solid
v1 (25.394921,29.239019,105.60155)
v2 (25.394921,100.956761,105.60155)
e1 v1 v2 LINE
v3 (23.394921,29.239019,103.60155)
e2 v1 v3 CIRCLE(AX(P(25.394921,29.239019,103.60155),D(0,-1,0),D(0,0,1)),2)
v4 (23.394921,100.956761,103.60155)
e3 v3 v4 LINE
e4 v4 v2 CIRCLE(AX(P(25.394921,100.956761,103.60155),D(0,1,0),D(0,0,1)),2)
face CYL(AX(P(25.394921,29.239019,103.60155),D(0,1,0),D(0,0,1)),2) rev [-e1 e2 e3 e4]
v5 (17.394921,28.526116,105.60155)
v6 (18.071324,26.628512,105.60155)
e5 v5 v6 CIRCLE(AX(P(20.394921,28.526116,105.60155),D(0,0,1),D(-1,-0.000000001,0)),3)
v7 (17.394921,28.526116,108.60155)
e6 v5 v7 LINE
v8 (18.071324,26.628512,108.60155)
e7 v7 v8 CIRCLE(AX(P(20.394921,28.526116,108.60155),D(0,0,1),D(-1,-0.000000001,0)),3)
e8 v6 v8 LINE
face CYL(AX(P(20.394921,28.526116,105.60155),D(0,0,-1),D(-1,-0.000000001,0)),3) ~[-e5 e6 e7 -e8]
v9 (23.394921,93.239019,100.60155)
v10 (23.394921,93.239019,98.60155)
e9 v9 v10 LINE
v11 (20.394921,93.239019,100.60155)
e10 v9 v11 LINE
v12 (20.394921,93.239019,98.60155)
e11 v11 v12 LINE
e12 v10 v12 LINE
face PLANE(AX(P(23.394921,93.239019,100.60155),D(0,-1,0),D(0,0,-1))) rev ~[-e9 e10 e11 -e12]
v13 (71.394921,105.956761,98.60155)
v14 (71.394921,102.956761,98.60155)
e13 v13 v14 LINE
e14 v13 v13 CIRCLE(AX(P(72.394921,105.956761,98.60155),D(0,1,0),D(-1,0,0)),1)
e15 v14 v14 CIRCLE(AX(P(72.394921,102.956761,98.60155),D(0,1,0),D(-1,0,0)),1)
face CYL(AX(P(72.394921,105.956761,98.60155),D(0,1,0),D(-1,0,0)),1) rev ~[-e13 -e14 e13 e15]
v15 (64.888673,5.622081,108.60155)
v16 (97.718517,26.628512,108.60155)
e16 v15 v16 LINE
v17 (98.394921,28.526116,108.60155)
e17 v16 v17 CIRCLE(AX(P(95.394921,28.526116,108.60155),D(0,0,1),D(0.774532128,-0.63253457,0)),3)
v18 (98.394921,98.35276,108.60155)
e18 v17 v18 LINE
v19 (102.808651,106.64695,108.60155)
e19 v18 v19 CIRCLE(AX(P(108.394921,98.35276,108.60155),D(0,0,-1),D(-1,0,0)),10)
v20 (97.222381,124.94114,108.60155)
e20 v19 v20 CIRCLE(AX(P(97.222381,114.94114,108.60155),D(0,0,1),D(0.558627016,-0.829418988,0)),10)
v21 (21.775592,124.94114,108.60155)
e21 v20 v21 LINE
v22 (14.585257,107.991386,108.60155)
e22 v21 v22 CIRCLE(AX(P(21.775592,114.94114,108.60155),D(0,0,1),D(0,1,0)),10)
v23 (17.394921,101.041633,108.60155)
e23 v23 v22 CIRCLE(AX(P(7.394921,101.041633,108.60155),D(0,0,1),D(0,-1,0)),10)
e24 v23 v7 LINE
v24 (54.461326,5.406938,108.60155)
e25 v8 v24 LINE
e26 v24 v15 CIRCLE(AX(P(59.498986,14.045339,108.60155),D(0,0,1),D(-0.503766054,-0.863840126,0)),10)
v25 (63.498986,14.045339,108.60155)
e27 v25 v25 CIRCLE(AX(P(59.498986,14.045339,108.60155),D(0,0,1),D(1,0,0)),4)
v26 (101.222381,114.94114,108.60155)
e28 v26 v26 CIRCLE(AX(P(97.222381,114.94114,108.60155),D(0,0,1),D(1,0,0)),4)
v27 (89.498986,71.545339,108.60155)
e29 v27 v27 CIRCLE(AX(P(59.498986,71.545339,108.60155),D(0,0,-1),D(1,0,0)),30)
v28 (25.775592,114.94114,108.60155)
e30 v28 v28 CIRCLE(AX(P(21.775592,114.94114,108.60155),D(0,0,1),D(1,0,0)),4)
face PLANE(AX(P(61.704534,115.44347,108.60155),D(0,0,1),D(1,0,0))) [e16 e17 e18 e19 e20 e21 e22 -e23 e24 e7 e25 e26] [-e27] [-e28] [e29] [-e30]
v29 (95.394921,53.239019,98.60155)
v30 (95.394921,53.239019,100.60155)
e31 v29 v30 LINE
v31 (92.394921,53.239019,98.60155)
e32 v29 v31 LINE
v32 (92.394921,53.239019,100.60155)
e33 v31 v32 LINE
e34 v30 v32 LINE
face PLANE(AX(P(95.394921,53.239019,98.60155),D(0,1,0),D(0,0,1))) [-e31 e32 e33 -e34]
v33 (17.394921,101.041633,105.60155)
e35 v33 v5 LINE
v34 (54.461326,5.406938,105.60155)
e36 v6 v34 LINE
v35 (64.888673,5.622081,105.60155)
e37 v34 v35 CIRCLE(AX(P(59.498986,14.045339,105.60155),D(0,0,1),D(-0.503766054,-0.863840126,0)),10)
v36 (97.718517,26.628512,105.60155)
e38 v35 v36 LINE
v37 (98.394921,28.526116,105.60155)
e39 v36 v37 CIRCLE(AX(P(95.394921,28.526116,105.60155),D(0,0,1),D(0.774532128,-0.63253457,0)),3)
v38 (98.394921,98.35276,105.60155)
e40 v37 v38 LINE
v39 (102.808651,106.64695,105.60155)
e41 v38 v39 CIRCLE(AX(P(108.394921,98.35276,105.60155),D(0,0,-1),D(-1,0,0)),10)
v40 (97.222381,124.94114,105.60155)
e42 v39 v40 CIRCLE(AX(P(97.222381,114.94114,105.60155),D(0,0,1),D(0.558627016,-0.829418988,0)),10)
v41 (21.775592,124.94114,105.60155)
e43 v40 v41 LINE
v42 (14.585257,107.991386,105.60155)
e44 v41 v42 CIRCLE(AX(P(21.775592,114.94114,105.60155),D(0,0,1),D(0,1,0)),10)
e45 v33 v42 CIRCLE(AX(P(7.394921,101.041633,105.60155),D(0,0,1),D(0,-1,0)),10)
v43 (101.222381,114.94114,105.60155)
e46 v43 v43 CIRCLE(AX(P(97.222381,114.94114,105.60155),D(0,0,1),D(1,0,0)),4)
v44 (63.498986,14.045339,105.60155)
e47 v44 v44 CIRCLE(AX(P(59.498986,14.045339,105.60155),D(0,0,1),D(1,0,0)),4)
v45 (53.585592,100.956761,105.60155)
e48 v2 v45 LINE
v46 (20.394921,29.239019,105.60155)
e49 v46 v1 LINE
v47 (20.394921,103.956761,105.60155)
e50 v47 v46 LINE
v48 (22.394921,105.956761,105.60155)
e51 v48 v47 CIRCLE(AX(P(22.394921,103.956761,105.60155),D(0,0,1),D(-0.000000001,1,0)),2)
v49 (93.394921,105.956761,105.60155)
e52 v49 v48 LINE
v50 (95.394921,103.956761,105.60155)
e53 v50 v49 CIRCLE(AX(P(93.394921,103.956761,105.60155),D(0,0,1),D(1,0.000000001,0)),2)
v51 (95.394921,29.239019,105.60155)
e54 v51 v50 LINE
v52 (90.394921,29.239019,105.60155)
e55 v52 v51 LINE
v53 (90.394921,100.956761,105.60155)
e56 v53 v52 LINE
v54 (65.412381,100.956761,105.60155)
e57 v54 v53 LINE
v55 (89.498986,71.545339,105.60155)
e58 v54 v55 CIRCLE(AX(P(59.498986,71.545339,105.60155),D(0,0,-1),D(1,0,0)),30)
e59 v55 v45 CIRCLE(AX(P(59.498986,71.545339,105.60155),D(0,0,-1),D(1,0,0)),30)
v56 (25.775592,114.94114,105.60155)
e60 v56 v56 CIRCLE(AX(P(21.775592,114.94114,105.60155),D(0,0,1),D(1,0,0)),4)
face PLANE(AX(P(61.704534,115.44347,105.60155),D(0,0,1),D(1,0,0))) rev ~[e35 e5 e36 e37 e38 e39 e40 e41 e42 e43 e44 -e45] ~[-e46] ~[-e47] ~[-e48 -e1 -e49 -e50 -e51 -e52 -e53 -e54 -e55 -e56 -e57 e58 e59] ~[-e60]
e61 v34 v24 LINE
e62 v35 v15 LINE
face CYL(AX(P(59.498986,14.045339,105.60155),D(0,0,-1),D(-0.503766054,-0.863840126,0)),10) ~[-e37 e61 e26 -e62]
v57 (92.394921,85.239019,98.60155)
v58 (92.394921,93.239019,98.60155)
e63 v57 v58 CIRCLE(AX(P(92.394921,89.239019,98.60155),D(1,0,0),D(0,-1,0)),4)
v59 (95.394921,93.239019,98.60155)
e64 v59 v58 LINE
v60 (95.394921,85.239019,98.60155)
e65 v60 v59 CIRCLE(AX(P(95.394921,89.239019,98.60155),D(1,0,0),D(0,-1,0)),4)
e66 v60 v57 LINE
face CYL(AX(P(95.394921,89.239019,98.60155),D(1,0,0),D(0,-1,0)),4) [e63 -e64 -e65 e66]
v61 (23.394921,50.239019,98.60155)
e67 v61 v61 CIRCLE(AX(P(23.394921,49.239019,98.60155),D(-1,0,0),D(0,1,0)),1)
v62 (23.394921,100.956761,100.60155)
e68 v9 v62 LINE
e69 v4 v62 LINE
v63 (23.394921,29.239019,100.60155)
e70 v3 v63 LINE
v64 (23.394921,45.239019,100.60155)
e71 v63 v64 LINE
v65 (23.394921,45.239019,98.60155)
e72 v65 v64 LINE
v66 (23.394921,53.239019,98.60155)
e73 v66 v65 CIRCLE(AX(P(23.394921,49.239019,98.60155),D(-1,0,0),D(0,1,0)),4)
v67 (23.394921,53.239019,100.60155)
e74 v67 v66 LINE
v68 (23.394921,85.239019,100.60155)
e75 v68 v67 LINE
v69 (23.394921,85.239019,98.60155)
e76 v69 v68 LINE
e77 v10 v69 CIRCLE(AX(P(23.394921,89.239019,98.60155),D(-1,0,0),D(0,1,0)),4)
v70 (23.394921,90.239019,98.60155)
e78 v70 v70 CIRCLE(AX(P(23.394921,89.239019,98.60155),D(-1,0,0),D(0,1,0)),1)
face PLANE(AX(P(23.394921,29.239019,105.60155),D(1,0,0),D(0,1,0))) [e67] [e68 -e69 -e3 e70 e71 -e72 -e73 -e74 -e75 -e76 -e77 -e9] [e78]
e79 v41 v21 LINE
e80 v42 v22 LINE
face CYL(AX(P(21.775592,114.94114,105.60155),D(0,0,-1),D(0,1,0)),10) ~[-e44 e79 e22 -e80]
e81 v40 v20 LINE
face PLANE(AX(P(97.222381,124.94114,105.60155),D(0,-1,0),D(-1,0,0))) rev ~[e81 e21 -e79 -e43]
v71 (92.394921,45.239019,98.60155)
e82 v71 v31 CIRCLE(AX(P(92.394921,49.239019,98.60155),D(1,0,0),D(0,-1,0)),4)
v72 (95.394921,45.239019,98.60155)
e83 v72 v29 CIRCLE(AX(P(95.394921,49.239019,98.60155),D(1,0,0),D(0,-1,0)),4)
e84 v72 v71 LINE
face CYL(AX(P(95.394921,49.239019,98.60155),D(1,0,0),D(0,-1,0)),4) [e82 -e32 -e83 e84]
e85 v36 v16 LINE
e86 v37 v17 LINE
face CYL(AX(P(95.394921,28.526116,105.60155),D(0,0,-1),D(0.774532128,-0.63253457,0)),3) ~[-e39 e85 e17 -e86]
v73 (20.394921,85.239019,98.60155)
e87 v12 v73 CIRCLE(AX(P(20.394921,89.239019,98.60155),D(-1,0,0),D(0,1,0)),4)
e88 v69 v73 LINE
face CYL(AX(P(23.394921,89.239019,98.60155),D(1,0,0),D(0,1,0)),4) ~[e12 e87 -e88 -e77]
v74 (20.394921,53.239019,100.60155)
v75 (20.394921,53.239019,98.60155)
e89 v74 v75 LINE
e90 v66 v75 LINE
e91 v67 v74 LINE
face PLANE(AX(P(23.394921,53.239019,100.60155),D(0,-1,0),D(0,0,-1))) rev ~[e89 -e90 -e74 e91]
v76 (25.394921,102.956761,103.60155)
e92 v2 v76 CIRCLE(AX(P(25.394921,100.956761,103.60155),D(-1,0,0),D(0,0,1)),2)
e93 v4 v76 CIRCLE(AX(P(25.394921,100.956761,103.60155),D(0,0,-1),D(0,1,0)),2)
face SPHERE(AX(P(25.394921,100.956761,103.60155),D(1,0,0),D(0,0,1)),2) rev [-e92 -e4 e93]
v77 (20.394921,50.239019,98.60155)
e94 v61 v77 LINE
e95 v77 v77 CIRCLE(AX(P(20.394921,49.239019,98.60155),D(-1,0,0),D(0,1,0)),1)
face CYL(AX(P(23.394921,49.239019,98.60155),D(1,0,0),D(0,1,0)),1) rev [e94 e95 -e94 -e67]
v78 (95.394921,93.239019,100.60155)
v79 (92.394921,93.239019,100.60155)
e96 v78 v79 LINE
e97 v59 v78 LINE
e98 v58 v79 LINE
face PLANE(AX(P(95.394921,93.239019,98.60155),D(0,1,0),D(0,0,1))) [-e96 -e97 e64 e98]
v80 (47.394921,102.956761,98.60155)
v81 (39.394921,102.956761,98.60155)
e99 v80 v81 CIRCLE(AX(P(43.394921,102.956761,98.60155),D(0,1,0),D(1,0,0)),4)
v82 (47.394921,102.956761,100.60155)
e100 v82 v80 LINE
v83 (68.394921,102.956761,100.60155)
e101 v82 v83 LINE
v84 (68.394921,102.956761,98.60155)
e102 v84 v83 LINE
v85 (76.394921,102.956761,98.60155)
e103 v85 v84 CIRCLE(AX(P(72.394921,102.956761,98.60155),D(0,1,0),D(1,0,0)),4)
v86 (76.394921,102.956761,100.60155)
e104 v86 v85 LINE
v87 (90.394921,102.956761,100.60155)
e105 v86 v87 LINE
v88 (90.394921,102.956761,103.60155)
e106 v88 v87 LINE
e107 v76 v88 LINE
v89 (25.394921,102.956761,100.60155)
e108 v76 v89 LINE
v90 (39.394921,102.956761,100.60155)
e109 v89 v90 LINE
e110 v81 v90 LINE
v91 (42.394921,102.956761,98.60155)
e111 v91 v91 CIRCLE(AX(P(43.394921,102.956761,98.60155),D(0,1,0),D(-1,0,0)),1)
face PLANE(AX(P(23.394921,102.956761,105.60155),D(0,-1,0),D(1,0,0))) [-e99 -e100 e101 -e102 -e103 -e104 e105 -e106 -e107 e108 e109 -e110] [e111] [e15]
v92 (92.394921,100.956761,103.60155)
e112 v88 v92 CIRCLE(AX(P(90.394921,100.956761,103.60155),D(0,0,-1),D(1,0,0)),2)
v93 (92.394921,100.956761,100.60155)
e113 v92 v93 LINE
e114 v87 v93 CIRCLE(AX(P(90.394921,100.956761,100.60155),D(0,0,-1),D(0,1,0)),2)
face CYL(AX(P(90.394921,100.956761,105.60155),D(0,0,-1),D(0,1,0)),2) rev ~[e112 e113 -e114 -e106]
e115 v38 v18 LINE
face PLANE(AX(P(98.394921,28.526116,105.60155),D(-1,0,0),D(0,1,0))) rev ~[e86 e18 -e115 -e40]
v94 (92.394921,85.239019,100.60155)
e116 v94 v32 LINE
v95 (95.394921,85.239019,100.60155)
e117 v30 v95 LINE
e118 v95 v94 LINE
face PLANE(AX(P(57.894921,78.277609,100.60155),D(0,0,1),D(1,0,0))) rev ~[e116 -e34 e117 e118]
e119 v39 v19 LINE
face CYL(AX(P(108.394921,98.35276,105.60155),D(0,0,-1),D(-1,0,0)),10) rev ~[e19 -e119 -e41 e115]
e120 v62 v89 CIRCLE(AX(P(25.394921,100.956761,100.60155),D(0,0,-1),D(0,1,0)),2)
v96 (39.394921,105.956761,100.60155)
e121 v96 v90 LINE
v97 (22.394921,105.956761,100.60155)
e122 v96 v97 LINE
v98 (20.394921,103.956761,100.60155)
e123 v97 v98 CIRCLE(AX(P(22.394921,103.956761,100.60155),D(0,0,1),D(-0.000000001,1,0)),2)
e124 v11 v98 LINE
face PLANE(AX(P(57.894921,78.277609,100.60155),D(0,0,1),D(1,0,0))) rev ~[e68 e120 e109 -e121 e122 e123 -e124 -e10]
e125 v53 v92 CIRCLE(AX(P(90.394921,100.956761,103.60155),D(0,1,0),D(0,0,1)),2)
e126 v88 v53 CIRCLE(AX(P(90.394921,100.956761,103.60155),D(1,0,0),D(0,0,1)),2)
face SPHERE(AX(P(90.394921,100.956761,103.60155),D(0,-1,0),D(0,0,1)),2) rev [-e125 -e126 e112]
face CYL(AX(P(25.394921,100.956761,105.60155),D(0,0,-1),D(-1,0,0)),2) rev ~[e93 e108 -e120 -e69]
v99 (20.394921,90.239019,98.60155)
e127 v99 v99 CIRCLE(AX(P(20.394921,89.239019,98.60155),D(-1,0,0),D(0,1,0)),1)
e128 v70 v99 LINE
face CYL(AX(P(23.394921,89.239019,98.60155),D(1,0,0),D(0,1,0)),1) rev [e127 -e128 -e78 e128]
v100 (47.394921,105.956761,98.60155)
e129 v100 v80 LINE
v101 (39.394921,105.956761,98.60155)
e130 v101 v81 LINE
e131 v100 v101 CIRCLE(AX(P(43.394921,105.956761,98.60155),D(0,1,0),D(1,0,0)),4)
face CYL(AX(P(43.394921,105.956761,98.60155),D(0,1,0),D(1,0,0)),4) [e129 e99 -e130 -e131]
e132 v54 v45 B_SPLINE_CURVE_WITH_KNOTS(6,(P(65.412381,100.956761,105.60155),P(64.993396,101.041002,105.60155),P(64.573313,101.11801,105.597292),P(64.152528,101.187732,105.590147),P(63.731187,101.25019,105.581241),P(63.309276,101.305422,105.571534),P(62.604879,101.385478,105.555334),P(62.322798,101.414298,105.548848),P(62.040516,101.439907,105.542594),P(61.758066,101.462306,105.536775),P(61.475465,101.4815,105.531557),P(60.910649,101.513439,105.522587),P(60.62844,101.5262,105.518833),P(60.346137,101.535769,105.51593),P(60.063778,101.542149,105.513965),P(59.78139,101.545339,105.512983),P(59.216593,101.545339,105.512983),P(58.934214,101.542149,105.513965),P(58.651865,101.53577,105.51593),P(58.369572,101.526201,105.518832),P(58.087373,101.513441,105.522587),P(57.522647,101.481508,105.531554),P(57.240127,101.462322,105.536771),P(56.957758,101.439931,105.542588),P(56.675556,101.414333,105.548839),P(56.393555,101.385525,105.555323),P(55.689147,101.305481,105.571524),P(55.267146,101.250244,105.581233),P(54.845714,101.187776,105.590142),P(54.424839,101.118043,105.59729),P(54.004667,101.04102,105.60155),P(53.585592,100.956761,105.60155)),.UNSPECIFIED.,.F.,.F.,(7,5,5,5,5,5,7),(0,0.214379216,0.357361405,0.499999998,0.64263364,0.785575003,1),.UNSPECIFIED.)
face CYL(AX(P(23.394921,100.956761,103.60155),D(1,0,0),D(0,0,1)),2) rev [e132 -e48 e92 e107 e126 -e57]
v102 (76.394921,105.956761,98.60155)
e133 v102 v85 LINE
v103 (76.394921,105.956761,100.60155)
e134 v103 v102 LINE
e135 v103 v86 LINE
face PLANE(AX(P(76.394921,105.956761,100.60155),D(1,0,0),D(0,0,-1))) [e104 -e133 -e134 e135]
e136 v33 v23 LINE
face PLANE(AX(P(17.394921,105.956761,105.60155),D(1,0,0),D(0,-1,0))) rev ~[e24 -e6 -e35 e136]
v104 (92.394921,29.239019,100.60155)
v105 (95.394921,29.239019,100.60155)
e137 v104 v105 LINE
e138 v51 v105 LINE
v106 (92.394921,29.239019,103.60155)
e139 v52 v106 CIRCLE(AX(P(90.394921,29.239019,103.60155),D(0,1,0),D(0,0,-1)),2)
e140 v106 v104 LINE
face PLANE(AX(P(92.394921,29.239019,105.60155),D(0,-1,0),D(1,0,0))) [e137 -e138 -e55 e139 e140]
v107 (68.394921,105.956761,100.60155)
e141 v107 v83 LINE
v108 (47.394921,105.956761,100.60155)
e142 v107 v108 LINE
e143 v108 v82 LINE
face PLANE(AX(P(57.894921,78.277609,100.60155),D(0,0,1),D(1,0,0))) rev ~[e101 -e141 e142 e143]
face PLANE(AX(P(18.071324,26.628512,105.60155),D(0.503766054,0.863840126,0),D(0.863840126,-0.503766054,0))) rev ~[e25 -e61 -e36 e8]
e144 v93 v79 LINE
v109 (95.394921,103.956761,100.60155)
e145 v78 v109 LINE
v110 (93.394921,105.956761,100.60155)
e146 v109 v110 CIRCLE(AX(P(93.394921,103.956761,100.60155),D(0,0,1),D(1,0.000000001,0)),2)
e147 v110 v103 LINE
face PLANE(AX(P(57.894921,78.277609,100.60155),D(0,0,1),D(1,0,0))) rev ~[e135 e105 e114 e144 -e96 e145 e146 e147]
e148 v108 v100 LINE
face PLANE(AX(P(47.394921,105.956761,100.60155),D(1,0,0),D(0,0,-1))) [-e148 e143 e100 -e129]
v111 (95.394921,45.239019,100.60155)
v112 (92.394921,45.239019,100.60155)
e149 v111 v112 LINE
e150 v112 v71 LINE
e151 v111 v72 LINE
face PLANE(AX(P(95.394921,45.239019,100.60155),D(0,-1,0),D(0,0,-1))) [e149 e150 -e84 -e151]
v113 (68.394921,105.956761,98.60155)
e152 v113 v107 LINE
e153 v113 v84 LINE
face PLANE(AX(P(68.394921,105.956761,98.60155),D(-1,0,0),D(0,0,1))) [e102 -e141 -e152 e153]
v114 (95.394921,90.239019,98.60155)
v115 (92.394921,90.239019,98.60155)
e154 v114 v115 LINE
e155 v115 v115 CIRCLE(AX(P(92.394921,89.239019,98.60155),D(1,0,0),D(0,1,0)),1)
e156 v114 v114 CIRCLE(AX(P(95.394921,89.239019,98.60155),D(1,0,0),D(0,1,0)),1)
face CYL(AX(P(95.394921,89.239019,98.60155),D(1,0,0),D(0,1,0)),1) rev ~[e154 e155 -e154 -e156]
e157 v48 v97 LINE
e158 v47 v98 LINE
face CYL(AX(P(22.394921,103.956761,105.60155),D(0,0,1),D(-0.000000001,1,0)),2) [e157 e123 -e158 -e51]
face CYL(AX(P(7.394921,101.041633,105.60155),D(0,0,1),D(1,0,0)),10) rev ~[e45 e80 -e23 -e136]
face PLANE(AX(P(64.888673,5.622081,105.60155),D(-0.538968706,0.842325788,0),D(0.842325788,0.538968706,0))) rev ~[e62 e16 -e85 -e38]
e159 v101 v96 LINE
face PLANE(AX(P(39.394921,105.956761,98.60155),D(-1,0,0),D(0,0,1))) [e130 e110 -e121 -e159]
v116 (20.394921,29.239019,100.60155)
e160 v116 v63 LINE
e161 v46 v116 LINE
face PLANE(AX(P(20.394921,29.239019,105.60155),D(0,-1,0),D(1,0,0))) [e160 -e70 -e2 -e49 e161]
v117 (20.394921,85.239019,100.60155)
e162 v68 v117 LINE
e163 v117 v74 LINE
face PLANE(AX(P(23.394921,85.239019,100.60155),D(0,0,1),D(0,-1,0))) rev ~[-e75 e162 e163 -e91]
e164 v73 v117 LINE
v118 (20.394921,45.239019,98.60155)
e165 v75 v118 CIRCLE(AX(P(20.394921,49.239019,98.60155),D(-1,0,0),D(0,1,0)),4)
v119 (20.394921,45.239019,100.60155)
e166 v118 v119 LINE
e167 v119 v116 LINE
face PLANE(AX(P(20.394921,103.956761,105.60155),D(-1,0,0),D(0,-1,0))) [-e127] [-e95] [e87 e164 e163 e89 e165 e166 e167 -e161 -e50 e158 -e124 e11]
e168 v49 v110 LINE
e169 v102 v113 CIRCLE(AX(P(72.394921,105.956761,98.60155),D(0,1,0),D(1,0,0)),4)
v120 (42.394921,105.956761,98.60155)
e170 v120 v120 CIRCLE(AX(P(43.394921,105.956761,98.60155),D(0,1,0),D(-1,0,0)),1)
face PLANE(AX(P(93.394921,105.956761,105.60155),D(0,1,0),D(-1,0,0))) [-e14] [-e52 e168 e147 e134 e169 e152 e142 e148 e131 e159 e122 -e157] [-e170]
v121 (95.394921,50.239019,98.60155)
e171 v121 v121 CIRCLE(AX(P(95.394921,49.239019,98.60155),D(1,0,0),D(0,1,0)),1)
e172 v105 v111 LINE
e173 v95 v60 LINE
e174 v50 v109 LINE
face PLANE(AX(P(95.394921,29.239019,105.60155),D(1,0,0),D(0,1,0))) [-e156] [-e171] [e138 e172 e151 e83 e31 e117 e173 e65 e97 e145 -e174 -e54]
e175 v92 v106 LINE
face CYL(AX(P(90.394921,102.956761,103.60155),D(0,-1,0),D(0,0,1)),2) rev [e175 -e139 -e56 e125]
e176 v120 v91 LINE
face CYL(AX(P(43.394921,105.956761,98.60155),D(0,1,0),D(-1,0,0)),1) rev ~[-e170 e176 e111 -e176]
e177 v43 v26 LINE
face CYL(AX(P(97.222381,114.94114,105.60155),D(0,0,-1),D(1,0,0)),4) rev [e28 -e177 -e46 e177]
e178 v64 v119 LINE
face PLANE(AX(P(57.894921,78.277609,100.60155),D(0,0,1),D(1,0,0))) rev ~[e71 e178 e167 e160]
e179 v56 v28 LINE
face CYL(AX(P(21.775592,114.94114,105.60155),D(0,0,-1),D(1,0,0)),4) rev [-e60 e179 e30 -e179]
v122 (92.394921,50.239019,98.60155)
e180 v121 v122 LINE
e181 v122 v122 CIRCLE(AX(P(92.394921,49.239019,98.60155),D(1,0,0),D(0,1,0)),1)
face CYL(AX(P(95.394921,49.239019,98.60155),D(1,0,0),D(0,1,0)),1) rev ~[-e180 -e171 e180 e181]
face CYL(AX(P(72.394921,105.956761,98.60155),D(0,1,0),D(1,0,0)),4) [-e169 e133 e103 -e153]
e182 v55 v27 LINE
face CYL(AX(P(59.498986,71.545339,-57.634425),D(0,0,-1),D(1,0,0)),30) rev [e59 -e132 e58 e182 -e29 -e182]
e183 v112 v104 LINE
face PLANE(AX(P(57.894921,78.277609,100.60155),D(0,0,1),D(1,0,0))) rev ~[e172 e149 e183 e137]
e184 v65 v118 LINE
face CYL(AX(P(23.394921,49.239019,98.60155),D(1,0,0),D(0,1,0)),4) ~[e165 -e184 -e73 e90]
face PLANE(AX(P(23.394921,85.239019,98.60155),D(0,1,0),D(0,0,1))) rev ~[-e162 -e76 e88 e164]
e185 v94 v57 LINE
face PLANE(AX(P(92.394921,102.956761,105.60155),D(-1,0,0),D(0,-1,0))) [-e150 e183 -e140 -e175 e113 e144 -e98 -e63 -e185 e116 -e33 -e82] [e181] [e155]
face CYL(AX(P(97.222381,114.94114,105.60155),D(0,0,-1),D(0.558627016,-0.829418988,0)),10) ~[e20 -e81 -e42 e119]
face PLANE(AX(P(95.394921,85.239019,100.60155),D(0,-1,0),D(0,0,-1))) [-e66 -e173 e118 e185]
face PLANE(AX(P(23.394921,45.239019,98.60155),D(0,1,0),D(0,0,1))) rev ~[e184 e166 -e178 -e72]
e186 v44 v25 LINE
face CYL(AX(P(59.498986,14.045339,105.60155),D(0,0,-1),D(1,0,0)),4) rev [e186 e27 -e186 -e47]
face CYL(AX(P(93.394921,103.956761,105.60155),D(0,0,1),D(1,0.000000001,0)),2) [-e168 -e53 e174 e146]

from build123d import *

# Parameters (mm, degrees)
CASING_EDGE_PROFILE_DEPTH                 = 3
SCREWHOLES_START                          = -3
SKETCH2_R                                 = 4
SCREWHOLES_AND_OTHER_STUFF_DEPTH          = 3
CASING_LIP_DEPTH                          = 5
CASING_LIP_FILLET_2MM_R                   = 2
FILLET_I_MISSED_IN_SCREWHOLE_ET_AL_SKET_R = 10
SKETCH4_R                                 = 1
SIDE_SCREWHOLES_1_DEPTH                   = 3
SIDE_START                                = -3
SKETCH6_R                                 = 1
SIDE_SCREWHOLES_2_DEPTH                   = 3
SKETCH7_R                                 = 1
TOP_SCREWHOLES_DEPTH                      = 3
CAMERA_HOLE_DEPTH                         = 166.235974691
CAMERA_HOLE_DEPTH_BACK                    = 166.235974691
SKETCH9_R                                 = 30


with BuildPart() as part:
    # Sketch1 → Casing edge profile (new body)
    with BuildSketch(Plane.XY.offset(105.601550083)):
        with BuildLine():
            Line((93.845211173, 26.628512047), (97.718517255, 26.628512047))
            ThreePointArc((97.718517255, 26.628512047), (98.220764918, 27.518839518), (98.394920872, 28.526115759))
            Line((98.394920872, 28.526115759), (98.394920872, 105.956761374))
            ThreePointArc((98.394920872, 105.956761374), (97.516241216, 108.078081718), (95.394920872, 108.956761374))
            Line((95.394920872, 108.956761374), (20.394920872, 108.956761374))
            ThreePointArc((20.394920872, 108.956761374), (18.273600528, 108.078081718), (17.394920872, 105.956761374))
            Line((17.394920872, 105.956761374), (17.394920872, 28.526115759))
            ThreePointArc((17.394920872, 28.526115759), (17.569076826, 27.518839518), (18.071324489, 26.628512047))
            Line((18.071324489, 26.628512047), (21.944630571, 26.628512047))
            Line((21.944630571, 26.628512047), (20.845856617, 27.973949541))
            ThreePointArc((20.845856617, 27.973949541), (20.511024841, 28.567501189), (20.394920872, 29.239018683))
            Line((20.394920872, 29.239018683), (20.394920872, 103.956761374))
            ThreePointArc((20.394920872, 103.956761374), (20.98070731, 105.370974936), (22.394920872, 105.956761374))
            Line((22.394920872, 105.956761374), (93.394920872, 105.956761374))
            ThreePointArc((93.394920872, 105.956761374), (94.809134434, 105.370974936), (95.394920872, 103.956761374))
            Line((95.394920872, 103.956761374), (95.394920872, 29.239018683))
            ThreePointArc((95.394920872, 29.239018683), (95.278816903, 28.567501189), (94.943985127, 27.973949541))
            Line((94.943985127, 27.973949541), (93.845211173, 26.628512047))
        make_face()
    extrude(amount=CASING_EDGE_PROFILE_DEPTH)

    # Sketch2 → Screwholes and other stuff (add)
    # profile 1 of 3: a face of its own
    with BuildSketch(Plane.XY.offset(108.601550083).offset(SCREWHOLES_START)):
        with BuildLine():
            ThreePointArc((102.80865071, 106.646950035), (106.786425162, 117.861593749), (97.222380548, 124.941139909))
            Line((97.222380548, 124.941139909), (21.775592214, 124.941139909))
            ThreePointArc((21.775592214, 124.941139909), (12.031511294, 117.189002678), (17.394920872, 105.951717314))
            Line((17.394920872, 105.951717314), (17.394920872, 105.956761374))
            ThreePointArc((17.394920872, 105.956761374), (18.273600528, 108.078081718), (20.394920872, 108.956761374))
            Line((20.394920872, 108.956761374), (95.394920872, 108.956761374))
            ThreePointArc((95.394920872, 108.956761374), (97.516241216, 108.078081718), (98.394920872, 105.956761374))
            Line((98.394920872, 105.956761374), (98.394920872, 98.35276016))
            ThreePointArc((98.394920872, 98.35276016), (99.567047356, 103.050488248), (102.80865071, 106.646950035))
        make_face()
        with Locations((21.775592214, 114.941139909)):
            Circle(SKETCH2_R, mode=Mode.SUBTRACT)
        with Locations((97.222380548, 114.941139909)):
            Circle(SKETCH2_R, mode=Mode.SUBTRACT)
    # profile 2 of 3: a face of its own
    with BuildSketch(Plane.XY.offset(108.601550083).offset(SCREWHOLES_START)):
        with BuildLine():
            Line((17.394920872, 105.956761374), (17.394920872, 105.951717314))
            Line((17.394920872, 105.951717314), (17.394920872, 28.526115759))
            ThreePointArc((17.394920872, 28.526115759), (17.569076826, 27.518839518), (18.071324489, 26.628512047))
            Line((18.071324489, 26.628512047), (21.944630571, 26.628512047))
            Line((21.944630571, 26.628512047), (20.845856617, 27.973949541))
            ThreePointArc((20.845856617, 27.973949541), (20.511024841, 28.567501189), (20.394920872, 29.239018683))
            Line((20.394920872, 29.239018683), (20.394920872, 103.956761374))
            ThreePointArc((20.394920872, 103.956761374), (20.98070731, 105.370974936), (22.394920872, 105.956761374))
            Line((22.394920872, 105.956761374), (93.394920872, 105.956761374))
            ThreePointArc((93.394920872, 105.956761374), (94.809134434, 105.370974936), (95.394920872, 103.956761374))
            Line((95.394920872, 103.956761374), (95.394920872, 29.239018683))
            ThreePointArc((95.394920872, 29.239018683), (95.278816903, 28.567501189), (94.943985127, 27.973949541))
            Line((94.943985127, 27.973949541), (93.845211173, 26.628512047))
            Line((93.845211173, 26.628512047), (97.718517255, 26.628512047))
            ThreePointArc((97.718517255, 26.628512047), (98.220764918, 27.518839518), (98.394920872, 28.526115759))
            Line((98.394920872, 28.526115759), (98.394920872, 98.35276016))
            Line((98.394920872, 98.35276016), (98.394920872, 105.956761374))
            ThreePointArc((98.394920872, 105.956761374), (97.516241216, 108.078081718), (95.394920872, 108.956761374))
            Line((95.394920872, 108.956761374), (20.394920872, 108.956761374))
            ThreePointArc((20.394920872, 108.956761374), (18.273600528, 108.078081718), (17.394920872, 105.956761374))
        make_face()
    # profile 3 of 3: a face of its own
    with BuildSketch(Plane.XY.offset(108.601550083).offset(SCREWHOLES_START)):
        with BuildLine():
            Line((18.071324489, 26.628512047), (54.461325843, 5.406937788))
            ThreePointArc((54.461325843, 5.406937788), (59.705268559, 4.04746689), (64.888673445, 5.622081164))
            Line((64.888673445, 5.622081164), (97.718517255, 26.628512047))
            Line((97.718517255, 26.628512047), (93.845211173, 26.628512047))
            Line((93.845211173, 26.628512047), (94.943985127, 27.973949541))
            ThreePointArc((94.943985127, 27.973949541), (95.278816903, 28.567501189), (95.394920872, 29.239018683))
            Line((95.394920872, 29.239018683), (95.394920872, 103.956761374))
            ThreePointArc((95.394920872, 103.956761374), (94.809134434, 105.370974936), (93.394920872, 105.956761374))
            Line((93.394920872, 105.956761374), (22.394920872, 105.956761374))
            ThreePointArc((22.394920872, 105.956761374), (20.98070731, 105.370974936), (20.394920872, 103.956761374))
            Line((20.394920872, 103.956761374), (20.394920872, 29.239018683))
            ThreePointArc((20.394920872, 29.239018683), (20.511024841, 28.567501189), (20.845856617, 27.973949541))
            Line((20.845856617, 27.973949541), (21.944630571, 26.628512047))
            Line((21.944630571, 26.628512047), (18.071324489, 26.628512047))
        make_face()
        with Locations((59.498986381, 14.045339047)):
            Circle(SKETCH2_R, mode=Mode.SUBTRACT)
    extrude(amount=SCREWHOLES_AND_OTHER_STUFF_DEPTH)

    # Sketch3 → Casing lip (add)
    with BuildSketch(Plane(origin=(0, 0, 105.601550083), x_dir=(-1, 0, 0), z_dir=(0, 0, -1))):
        with BuildLine():
            Line((-20.394920872, 103.956761374), (-20.394920872, 29.239018683))
            Line((-20.394920872, 29.239018683), (-23.394920872, 29.239018683))
            Line((-23.394920872, 29.239018683), (-23.394920872, 102.956761374))
            Line((-23.394920872, 102.956761374), (-92.394920872, 102.956761374))
            Line((-92.394920872, 102.956761374), (-92.394920872, 29.239018683))
            Line((-92.394920872, 29.239018683), (-95.394920872, 29.239018683))
            Line((-95.394920872, 29.239018683), (-95.394920872, 103.956761374))
            ThreePointArc((-95.394920872, 103.956761374), (-94.809134434, 105.370974936), (-93.394920872, 105.956761374))
            Line((-93.394920872, 105.956761374), (-22.394920872, 105.956761374))
            ThreePointArc((-22.394920872, 105.956761374), (-20.98070731, 105.370974936), (-20.394920872, 103.956761374))
        make_face()
    extrude(amount=CASING_LIP_DEPTH)

    # Casing lip fillet 2mm
    casing_lip_fillet_2mm_edges = [part.edges().sort_by_distance(p)[0] for p in [
        (92.394920872, 66.097890028, 105.601550083),
        (57.894920872, 102.956761374, 105.601550083),
        (92.394920872, 102.956761374, 103.101550083),
        (23.394920872, 66.097890028, 105.601550083),
        (23.394920872, 102.956761374, 103.101550083),
    ]]
    fillet(casing_lip_fillet_2mm_edges, radius=CASING_LIP_FILLET_2MM_R)

    # Fillet I missed in screwhole et al. sketch
    fillet_i_missed_in_screwhole_et_al_sket_edges = [part.edges().sort_by_distance(p)[0] for p in [
        (17.394920872, 105.951717314, 107.101550083),
    ]]
    fillet(fillet_i_missed_in_screwhole_et_al_sket_edges, radius=FILLET_I_MISSED_IN_SCREWHOLE_ET_AL_SKET_R)

    # Sketch4 → Side screwholes 1 (add)
    # profile 1 of 2: a face of its own
    with BuildSketch(Plane(origin=(95.394920872, 0, 0), x_dir=(0, 0, -1), z_dir=(1, 0, 0))):
        with BuildLine():
            Line((-98.601550083, 93.239018683), (-100.601550083, 93.239018683))
            Line((-100.601550083, 93.239018683), (-100.601550083, 85.239018683))
            Line((-100.601550083, 85.239018683), (-98.601550083, 85.239018683))
            ThreePointArc((-98.601550083, 85.239018683), (-94.601550083, 89.239018683), (-98.601550083, 93.239018683))
        make_face()
        with Locations(Location((-98.601550083, 89.239018683, 0), (0, 0, 90))):
            Circle(SKETCH4_R, mode=Mode.SUBTRACT)
    # profile 2 of 2: a face of its own
    with BuildSketch(Plane(origin=(95.394920872, 0, 0), x_dir=(0, 0, -1), z_dir=(1, 0, 0))):
        with BuildLine():
            Line((-98.601550083, 53.239018683), (-100.601550083, 53.239018683))
            Line((-100.601550083, 53.239018683), (-100.601550083, 45.239018683))
            Line((-100.601550083, 45.239018683), (-98.601550083, 45.239018683))
            ThreePointArc((-98.601550083, 45.239018683), (-94.601550083, 49.239018683), (-98.601550083, 53.239018683))
        make_face()
        with Locations(Location((-98.601550083, 49.239018683, 0), (0, 0, 90))):
            Circle(SKETCH4_R, mode=Mode.SUBTRACT)
    extrude(amount=-SIDE_SCREWHOLES_1_DEPTH)

    # Sketch6 → Side screwholes 2 (add)
    with BuildSketch(Plane.ZY.offset(-20.394920872).offset(SIDE_START)):
        with BuildLine():
            Line((100.601550083, 29.239018683), (103.601550083, 29.239018683))
            Line((103.601550083, 29.239018683), (103.601550083, 100.956761374))
            Line((103.601550083, 100.956761374), (100.601550083, 100.956761374))
            Line((100.601550083, 100.956761374), (100.601550083, 93.239018683))
            Line((100.601550083, 93.239018683), (98.601550083, 93.239018683))
            ThreePointArc((98.601550083, 93.239018683), (94.601550083, 89.239018683), (98.601550083, 85.239018683))
            Line((98.601550083, 85.239018683), (100.601550083, 85.239018683))
            Line((100.601550083, 85.239018683), (100.601550083, 53.239018683))
            Line((100.601550083, 53.239018683), (98.601550083, 53.239018683))
            ThreePointArc((98.601550083, 53.239018683), (94.601550083, 49.239018683), (98.601550083, 45.239018683))
            Line((98.601550083, 45.239018683), (100.601550083, 45.239018683))
            Line((100.601550083, 45.239018683), (100.601550083, 29.239018683))
        make_face()
        with Locations(Location((98.601550083, 49.239018683, 0), (0, 0, 90))):
            Circle(SKETCH6_R, mode=Mode.SUBTRACT)
        with Locations(Location((98.601550083, 89.239018683, 0), (0, 0, 90))):
            Circle(SKETCH6_R, mode=Mode.SUBTRACT)
    extrude(amount=SIDE_SCREWHOLES_2_DEPTH)

    # Sketch7 → Top screwholes (add)
    # profile 1 of 2: a face of its own
    with BuildSketch(Plane(origin=(0, 105.956761374, 0), x_dir=(1, 0, 0), z_dir=(0, 1, 0))):
        with BuildLine():
            Line((39.394920872, -100.601550083), (47.394920872, -100.601550083))
            Line((47.394920872, -100.601550083), (47.394920872, -98.601550083))
            ThreePointArc((47.394920872, -98.601550083), (43.394920872, -94.601550083), (39.394920872, -98.601550083))
            Line((39.394920872, -98.601550083), (39.394920872, -100.601550083))
        make_face()
        with Locations(Location((43.394920872, -98.601550083, 0), (0, 0, 180))):
            Circle(SKETCH7_R, mode=Mode.SUBTRACT)
    # profile 2 of 2: a face of its own
    with BuildSketch(Plane(origin=(0, 105.956761374, 0), x_dir=(1, 0, 0), z_dir=(0, 1, 0))):
        with BuildLine():
            Line((68.394920872, -98.601550083), (68.394920872, -100.601550083))
            Line((68.394920872, -100.601550083), (76.394920872, -100.601550083))
            Line((76.394920872, -100.601550083), (76.394920872, -98.601550083))
            ThreePointArc((76.394920872, -98.601550083), (72.394920872, -94.601550083), (68.394920872, -98.601550083))
        make_face()
        with Locations(Location((72.394920872, -98.601550083, 0), (0, 0, 180))):
            Circle(SKETCH7_R, mode=Mode.SUBTRACT)
    extrude(amount=-TOP_SCREWHOLES_DEPTH)

    # Sketch9 → Camera hole (cut, two sides: drawn at the far end of the back side and taken through both)
    with BuildSketch(Plane.XY.offset(108.601550083).offset(-CAMERA_HOLE_DEPTH_BACK)):
        with Locations((59.498986381, 71.545339047)):
            Circle(SKETCH9_R)
    extrude(amount=CAMERA_HOLE_DEPTH + CAMERA_HOLE_DEPTH_BACK, mode=Mode.SUBTRACT)


solid = part.part
